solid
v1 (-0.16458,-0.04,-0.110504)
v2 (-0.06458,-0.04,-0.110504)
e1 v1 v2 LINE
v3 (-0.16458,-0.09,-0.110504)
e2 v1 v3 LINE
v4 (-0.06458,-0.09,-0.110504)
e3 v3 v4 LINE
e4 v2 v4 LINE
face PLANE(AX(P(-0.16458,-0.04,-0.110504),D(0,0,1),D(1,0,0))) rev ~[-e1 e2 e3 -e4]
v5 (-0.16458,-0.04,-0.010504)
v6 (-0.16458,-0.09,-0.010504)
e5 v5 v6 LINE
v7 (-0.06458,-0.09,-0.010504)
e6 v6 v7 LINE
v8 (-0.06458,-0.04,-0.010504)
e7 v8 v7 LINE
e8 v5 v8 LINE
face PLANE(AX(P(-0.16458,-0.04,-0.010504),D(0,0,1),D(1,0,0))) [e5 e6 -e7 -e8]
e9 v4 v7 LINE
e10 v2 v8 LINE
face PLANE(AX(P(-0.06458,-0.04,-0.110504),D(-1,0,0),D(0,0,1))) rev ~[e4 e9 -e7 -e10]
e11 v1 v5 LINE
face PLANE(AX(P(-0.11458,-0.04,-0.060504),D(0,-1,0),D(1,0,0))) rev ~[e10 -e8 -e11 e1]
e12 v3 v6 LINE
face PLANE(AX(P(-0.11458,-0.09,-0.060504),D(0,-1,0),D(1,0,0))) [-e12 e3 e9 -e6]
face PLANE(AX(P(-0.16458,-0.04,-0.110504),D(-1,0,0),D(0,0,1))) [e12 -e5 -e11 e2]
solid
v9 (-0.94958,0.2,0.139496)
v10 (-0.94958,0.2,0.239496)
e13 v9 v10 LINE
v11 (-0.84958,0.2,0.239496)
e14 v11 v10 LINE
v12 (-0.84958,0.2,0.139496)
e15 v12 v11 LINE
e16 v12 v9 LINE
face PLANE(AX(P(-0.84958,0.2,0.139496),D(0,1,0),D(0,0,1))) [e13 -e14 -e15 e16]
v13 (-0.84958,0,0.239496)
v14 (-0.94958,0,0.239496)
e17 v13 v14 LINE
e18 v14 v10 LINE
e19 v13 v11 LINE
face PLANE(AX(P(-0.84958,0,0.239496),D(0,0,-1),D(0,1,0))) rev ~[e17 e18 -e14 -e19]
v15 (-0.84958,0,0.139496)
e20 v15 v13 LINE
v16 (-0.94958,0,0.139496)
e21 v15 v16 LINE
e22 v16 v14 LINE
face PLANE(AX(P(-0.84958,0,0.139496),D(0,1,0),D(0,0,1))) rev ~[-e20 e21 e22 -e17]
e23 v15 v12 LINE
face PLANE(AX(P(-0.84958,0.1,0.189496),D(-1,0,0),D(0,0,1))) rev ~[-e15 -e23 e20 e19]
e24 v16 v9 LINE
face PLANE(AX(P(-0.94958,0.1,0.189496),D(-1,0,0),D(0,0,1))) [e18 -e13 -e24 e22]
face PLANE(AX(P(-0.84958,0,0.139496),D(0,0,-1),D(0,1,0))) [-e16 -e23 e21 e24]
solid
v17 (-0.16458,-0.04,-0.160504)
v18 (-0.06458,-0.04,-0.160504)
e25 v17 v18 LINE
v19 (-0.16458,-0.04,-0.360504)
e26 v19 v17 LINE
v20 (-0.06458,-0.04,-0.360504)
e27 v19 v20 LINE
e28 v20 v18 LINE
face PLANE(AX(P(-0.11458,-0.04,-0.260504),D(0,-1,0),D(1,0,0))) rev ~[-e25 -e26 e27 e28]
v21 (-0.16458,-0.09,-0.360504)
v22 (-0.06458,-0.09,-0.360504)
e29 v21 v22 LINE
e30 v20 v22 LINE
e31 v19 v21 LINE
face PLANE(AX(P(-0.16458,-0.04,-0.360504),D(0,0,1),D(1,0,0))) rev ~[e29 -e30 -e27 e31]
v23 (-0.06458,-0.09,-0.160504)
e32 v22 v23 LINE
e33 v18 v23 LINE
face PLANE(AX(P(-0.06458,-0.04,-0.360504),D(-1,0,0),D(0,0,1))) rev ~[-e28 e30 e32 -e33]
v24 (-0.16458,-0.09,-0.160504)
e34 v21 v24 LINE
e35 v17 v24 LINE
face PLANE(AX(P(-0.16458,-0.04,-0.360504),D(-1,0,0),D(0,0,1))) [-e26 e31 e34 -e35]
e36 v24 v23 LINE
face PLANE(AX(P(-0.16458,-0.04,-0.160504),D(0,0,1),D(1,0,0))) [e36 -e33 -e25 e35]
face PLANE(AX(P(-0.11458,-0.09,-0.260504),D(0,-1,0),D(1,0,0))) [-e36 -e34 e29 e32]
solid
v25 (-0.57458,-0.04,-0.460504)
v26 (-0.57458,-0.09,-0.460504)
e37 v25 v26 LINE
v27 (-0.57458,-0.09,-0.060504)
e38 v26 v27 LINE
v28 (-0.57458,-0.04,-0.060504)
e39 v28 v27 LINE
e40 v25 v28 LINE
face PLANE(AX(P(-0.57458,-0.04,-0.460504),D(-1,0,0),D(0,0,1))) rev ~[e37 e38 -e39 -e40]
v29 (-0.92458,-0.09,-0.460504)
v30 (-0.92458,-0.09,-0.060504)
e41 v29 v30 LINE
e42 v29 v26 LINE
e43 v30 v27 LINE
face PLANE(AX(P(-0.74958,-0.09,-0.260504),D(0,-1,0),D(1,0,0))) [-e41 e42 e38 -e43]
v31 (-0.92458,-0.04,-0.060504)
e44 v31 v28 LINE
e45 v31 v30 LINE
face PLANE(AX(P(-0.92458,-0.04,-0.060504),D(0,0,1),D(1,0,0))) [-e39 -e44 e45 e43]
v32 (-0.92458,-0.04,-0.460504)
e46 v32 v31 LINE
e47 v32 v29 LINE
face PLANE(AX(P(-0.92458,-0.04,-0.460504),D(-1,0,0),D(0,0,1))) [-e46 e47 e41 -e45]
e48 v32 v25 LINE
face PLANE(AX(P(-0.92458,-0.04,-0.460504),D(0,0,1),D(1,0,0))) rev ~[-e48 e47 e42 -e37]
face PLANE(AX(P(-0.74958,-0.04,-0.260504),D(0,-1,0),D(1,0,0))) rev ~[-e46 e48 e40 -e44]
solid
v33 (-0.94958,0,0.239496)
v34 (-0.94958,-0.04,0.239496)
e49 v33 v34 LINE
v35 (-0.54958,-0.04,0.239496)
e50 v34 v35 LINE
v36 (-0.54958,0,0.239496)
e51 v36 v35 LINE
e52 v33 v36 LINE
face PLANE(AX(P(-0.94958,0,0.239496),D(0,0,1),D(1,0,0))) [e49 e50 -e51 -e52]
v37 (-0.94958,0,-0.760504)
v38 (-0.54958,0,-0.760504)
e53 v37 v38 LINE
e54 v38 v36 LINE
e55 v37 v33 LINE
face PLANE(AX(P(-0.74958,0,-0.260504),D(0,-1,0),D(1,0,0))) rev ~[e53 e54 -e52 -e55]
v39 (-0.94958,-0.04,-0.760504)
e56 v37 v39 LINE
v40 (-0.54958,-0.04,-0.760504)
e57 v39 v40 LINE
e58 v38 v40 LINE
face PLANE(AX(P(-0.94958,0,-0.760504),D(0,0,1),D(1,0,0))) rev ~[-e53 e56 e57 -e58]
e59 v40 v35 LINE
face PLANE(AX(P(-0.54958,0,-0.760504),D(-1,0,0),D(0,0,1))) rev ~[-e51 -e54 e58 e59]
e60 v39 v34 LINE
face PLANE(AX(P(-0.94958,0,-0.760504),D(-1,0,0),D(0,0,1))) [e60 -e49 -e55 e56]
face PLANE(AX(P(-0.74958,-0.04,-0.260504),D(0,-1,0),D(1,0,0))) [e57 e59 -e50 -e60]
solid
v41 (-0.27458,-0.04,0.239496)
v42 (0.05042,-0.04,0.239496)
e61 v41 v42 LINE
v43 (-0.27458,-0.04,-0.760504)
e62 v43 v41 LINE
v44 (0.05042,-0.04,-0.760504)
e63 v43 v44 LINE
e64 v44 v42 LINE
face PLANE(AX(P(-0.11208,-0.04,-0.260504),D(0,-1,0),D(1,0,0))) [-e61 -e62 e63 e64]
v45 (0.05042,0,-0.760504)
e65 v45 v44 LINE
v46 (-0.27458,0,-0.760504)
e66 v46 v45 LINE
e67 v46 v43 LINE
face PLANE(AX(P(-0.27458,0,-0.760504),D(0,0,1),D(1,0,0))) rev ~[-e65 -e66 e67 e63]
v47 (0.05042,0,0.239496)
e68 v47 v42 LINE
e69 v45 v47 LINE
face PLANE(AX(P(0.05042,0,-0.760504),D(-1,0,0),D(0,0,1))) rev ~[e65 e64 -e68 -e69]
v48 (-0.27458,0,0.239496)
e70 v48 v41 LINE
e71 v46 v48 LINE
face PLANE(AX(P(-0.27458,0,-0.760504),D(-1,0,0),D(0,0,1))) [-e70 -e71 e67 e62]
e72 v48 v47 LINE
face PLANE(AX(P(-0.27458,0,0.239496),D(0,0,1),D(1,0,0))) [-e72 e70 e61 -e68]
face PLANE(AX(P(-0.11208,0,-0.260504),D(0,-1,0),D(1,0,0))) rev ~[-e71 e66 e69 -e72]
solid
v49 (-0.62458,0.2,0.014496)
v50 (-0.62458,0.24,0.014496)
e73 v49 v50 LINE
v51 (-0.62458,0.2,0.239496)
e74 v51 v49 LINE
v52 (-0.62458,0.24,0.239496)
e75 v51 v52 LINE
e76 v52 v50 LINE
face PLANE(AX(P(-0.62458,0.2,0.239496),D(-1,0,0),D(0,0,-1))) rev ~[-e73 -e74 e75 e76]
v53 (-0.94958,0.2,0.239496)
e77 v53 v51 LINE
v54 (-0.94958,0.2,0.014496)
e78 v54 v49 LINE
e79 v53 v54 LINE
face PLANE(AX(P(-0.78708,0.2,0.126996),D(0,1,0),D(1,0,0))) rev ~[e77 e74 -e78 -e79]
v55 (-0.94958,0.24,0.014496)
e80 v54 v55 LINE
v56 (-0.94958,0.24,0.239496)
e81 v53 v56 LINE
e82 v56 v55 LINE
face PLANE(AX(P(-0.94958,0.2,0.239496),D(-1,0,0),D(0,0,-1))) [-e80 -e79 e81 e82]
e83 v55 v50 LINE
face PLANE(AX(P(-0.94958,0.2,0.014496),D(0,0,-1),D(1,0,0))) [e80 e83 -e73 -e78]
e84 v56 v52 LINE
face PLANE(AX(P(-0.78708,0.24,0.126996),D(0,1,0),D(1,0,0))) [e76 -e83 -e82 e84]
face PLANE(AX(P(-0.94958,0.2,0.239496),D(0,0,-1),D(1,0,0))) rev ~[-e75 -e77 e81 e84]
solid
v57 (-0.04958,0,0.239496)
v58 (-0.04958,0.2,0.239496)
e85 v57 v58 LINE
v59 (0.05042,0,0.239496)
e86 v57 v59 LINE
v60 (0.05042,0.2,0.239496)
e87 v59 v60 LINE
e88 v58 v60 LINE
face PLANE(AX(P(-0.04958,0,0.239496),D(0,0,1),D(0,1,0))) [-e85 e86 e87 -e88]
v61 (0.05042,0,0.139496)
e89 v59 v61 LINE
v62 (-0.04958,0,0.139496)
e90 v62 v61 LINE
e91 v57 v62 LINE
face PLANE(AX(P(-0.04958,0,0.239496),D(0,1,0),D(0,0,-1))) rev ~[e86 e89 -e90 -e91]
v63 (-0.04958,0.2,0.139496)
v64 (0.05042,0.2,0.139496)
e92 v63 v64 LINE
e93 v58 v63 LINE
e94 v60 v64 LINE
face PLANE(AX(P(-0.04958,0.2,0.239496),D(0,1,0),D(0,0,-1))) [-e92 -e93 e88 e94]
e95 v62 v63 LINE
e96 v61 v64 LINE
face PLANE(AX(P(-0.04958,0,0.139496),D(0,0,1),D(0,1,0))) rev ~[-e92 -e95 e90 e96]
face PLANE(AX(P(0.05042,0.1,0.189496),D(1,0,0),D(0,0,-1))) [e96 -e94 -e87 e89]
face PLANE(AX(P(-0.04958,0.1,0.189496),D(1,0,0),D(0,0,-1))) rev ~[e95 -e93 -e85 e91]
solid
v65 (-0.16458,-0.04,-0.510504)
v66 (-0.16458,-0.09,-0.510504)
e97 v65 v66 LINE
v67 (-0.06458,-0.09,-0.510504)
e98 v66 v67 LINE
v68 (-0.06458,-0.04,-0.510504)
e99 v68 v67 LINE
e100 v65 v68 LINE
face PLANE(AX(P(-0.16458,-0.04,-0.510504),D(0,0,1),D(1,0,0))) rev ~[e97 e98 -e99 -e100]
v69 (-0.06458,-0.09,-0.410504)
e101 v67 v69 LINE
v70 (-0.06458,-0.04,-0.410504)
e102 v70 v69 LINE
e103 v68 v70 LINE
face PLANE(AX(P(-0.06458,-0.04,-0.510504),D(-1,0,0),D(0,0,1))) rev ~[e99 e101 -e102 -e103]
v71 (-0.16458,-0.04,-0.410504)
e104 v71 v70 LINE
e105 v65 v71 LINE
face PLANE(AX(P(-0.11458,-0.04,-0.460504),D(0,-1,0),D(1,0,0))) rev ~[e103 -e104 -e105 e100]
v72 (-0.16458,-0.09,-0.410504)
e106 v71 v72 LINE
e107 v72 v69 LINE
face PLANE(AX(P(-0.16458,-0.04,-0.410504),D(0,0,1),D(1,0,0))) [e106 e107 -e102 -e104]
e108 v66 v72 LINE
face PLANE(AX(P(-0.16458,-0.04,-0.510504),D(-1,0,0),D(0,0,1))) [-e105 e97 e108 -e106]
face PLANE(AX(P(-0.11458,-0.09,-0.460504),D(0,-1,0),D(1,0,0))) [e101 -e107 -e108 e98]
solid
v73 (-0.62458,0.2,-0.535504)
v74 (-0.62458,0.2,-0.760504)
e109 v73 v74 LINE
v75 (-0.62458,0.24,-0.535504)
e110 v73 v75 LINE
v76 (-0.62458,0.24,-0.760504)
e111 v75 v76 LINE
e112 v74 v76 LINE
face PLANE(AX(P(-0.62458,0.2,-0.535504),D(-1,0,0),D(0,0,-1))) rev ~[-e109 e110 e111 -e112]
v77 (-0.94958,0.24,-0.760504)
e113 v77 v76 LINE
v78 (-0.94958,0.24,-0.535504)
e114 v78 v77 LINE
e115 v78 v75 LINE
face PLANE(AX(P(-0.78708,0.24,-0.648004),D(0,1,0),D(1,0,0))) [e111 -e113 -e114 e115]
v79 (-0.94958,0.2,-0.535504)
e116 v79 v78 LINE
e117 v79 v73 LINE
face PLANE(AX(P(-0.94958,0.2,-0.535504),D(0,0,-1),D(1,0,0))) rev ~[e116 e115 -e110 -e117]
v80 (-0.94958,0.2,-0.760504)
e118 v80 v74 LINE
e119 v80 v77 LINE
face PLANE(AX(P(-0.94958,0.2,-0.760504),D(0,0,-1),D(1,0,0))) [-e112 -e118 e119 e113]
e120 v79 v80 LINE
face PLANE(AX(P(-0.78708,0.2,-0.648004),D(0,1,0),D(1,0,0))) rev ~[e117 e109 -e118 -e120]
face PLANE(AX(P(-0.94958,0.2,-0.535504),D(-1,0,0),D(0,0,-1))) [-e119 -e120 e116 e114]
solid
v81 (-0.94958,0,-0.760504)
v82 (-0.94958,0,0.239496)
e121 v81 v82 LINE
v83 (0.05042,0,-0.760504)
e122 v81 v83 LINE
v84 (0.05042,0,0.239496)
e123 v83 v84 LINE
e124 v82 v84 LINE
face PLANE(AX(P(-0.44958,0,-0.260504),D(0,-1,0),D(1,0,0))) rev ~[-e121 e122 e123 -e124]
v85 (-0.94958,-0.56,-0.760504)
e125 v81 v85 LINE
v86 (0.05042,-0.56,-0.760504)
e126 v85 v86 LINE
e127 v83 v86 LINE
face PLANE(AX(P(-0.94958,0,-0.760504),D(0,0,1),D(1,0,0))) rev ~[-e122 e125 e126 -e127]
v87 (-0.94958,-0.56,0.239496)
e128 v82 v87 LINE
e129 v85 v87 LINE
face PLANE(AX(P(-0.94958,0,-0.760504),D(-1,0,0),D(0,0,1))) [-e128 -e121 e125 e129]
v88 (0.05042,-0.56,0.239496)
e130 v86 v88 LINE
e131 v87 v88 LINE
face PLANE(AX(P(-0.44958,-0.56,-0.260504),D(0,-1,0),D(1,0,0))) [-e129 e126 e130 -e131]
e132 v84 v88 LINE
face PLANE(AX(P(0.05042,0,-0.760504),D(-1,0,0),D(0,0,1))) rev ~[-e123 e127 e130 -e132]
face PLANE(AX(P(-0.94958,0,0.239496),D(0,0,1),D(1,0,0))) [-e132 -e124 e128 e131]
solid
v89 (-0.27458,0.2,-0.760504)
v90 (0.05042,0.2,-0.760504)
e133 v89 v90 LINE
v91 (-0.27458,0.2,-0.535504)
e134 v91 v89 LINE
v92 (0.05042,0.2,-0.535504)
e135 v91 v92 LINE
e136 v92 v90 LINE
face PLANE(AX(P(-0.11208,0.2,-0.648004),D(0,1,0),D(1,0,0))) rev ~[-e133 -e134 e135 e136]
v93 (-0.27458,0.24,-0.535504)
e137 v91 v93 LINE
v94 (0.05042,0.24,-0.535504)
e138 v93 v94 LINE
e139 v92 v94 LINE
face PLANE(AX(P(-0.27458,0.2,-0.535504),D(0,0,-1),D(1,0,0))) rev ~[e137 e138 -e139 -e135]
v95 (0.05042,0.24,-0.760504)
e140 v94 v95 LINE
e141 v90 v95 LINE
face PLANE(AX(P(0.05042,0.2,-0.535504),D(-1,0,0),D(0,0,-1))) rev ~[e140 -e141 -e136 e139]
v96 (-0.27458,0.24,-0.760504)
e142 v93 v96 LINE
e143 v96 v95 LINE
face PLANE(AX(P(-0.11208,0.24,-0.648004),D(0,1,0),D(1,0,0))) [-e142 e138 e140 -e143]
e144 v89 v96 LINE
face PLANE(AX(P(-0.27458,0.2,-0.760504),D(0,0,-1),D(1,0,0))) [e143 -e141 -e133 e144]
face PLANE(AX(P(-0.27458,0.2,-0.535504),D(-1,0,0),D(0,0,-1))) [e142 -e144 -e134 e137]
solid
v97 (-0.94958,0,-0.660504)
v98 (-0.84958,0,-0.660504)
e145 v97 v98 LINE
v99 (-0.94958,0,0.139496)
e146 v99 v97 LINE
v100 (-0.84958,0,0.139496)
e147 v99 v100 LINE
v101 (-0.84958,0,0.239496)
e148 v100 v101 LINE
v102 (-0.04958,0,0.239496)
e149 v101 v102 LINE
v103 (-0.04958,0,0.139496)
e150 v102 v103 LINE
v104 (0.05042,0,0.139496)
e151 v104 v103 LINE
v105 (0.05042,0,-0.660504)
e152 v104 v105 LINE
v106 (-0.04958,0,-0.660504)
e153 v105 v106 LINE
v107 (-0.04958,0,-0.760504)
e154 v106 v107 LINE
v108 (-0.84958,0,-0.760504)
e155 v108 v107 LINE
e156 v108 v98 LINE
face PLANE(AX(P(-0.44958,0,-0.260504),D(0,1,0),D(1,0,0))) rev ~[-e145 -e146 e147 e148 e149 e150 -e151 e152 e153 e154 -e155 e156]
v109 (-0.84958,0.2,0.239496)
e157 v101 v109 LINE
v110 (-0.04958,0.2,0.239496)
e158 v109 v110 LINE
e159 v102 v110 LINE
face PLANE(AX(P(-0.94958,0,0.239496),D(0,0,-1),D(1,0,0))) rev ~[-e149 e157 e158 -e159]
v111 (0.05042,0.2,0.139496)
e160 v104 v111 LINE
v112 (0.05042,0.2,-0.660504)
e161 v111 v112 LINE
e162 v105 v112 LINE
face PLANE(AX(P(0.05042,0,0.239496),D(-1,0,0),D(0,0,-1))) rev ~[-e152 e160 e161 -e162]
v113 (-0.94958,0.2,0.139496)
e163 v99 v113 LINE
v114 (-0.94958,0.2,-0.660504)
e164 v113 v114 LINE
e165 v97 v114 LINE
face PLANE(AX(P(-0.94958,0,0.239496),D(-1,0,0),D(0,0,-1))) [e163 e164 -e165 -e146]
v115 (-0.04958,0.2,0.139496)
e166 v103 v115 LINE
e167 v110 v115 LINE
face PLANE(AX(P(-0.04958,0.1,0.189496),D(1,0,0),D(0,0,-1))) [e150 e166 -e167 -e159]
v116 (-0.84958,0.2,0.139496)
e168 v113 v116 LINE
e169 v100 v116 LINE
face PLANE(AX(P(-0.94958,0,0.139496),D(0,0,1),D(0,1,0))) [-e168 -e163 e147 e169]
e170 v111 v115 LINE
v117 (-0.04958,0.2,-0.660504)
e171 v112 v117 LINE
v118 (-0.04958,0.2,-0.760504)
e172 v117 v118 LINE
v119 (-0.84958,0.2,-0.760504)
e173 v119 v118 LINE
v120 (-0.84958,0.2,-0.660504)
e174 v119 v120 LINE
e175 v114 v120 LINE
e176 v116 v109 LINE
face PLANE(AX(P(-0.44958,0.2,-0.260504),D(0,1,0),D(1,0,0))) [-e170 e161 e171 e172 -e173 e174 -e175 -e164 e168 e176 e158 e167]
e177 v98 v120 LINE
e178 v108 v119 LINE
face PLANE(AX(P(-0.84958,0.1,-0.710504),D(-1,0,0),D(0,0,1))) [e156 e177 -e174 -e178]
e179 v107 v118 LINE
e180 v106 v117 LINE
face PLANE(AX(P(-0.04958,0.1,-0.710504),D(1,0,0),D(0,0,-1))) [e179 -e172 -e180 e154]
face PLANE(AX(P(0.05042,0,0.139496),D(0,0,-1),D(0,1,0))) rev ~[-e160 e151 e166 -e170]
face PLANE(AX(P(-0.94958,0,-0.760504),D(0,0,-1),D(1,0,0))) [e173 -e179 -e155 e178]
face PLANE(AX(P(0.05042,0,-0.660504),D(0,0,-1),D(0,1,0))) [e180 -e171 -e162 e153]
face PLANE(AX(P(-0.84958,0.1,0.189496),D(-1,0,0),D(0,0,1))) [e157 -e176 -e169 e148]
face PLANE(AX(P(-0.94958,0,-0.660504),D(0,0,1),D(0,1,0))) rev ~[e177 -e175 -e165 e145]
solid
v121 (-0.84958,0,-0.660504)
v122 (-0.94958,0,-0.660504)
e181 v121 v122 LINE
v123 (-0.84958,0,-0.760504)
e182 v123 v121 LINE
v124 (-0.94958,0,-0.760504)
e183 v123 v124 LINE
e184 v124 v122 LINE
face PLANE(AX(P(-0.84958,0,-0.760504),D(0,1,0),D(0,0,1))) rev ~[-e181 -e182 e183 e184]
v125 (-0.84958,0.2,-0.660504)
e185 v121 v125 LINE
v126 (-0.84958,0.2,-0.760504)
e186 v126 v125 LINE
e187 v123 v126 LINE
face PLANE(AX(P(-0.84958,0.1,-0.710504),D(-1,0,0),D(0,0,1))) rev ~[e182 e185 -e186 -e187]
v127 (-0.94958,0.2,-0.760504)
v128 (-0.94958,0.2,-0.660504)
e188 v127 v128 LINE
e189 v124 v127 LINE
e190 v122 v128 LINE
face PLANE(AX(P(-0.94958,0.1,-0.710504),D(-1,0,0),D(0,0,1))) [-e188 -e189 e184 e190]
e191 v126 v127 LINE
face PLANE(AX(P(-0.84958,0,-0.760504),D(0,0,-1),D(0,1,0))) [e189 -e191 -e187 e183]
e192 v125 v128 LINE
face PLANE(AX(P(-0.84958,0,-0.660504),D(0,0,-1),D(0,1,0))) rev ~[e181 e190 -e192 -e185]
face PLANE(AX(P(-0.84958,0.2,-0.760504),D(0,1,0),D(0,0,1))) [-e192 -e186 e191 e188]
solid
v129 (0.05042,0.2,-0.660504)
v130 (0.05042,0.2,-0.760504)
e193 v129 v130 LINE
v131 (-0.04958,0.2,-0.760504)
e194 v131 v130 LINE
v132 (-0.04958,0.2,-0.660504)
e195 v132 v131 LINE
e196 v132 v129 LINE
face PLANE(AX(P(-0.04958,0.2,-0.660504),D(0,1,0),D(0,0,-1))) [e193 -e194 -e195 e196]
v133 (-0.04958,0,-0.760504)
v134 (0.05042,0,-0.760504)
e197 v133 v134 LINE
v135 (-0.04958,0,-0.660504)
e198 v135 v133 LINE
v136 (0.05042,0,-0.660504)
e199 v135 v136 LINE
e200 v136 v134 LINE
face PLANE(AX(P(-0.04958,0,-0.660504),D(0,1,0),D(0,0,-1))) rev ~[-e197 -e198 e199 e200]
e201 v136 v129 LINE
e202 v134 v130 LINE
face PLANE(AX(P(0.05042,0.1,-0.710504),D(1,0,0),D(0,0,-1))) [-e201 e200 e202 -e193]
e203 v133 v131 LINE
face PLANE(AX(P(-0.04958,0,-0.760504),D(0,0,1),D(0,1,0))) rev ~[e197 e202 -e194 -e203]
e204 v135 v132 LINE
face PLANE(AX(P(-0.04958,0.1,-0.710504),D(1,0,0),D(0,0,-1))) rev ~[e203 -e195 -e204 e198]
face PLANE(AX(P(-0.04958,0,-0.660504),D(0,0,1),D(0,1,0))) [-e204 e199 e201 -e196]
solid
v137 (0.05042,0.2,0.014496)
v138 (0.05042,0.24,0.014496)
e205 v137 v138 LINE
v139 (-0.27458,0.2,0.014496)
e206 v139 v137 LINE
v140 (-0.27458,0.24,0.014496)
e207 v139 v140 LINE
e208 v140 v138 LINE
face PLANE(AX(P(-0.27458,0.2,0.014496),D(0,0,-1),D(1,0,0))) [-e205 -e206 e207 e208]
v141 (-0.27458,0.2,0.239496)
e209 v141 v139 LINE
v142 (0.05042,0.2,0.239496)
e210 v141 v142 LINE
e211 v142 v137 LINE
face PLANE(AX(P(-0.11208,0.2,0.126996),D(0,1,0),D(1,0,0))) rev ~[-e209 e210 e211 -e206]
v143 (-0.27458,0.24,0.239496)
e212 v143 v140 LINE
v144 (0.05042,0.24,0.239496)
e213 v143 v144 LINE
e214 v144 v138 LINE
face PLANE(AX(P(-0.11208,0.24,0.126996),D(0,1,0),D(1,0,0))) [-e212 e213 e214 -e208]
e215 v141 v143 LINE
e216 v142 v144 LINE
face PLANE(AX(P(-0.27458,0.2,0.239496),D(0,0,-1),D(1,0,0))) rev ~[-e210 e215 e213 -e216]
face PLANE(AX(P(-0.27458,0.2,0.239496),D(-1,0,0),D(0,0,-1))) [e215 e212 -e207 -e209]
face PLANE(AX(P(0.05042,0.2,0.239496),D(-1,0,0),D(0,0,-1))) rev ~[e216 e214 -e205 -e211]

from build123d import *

# Parameters (mm, degrees)
SKETCH_1_W          = 1
SKETCH_1_H          = 1
EXTRUDE_1_DEPTH     = 0.2
SKETCH_3_W          = 0.325
SKETCH_3_H          = 0.225
EXTRUDE_2_DEPTH     = 0.04
EXTRUDE_2_2_DEPTH   = 0.04
EXTRUDE_2_3_DEPTH   = 0.04
EXTRUDE_2_4_DEPTH   = 0.04
SKETCH_4_W          = 0.4
SKETCH_4_H          = 1
EXTRUDE_3_DEPTH     = 0.04
SKETCH_4_W_2        = 0.325
EXTRUDE_3_2_DEPTH   = 0.04
SKETCH_5_W          = 0.35
SKETCH_5_H          = 0.4
EXTRUDE_4_DEPTH     = 0.05
SKETCH_7_W          = 0.1
SKETCH_7_H          = 0.1
EXTRUDE_5_DEPTH     = 0.05
EXTRUDE_5_2_DEPTH   = 0.05
SKETCH_7_H_2        = 0.2
EXTRUDE_5_3_DEPTH   = 0.05
SKETCH_8_W          = 1
SKETCH_8_H          = 1
EXTRUDE_6_DEPTH     = 0.56
SKETCH_12_W         = 0.1
SKETCH_12_H         = 0.2
CUT_EXTRUDE_1_DEPTH = 0.1
SKETCH_11_W         = 0.1
SKETCH_11_H         = 0.2
CUT_EXTRUDE_2_DEPTH = 0.1
SKETCH_16_W         = 0.1
SKETCH_16_H         = 0.2
CUT_EXTRUDE_3_DEPTH = 0.1
SKETCH_18_W         = 0.1
SKETCH_18_H         = 0.2
EXTRUDE_7_DEPTH     = 0.1
SKETCH_19_W         = 0.1
SKETCH_19_H         = 0.2
EXTRUDE_8_DEPTH     = 0.1
SKETCH_20_W         = 0.1
SKETCH_20_H         = 0.2
EXTRUDE_9_DEPTH     = 0.1
SKETCH_21_W         = 0.1
SKETCH_21_H         = 0.2
EXTRUDE_10_DEPTH    = 0.1


with BuildPart() as part:
    # 草图1 → 凸台-拉伸1 (new body)
    with BuildSketch(Plane(origin=(0, 0, 0), x_dir=(1, 0, 0), z_dir=(0, 1, 0))):
        with Locations((-0.449579832, 0.260504202)):
            Rectangle(SKETCH_1_W, SKETCH_1_H)
    extrude(amount=EXTRUDE_1_DEPTH)

    # 草图12 → 切除-拉伸1 (cut)
    with BuildSketch(Plane.ZY.offset(0.949579832)):
        with Locations((0.189495798, 0.1)):
            Rectangle(SKETCH_12_W, SKETCH_12_H)
    extrude(amount=-CUT_EXTRUDE_1_DEPTH, mode=Mode.SUBTRACT)

    # 草图11 → 切除-拉伸2 (cut)
    with BuildSketch(Plane.ZY.offset(0.949579832)):
        with Locations((-0.710504202, 0.1)):
            Rectangle(SKETCH_11_W, SKETCH_11_H)
    extrude(amount=-CUT_EXTRUDE_2_DEPTH, mode=Mode.SUBTRACT)

    # 草图16 → 切除-拉伸3 (cut)
    with BuildSketch(Plane(origin=(0.050420168, 0, 0), x_dir=(0, 0, -1), z_dir=(1, 0, 0))):
        with Locations((-0.189495798, 0.1)):
            Rectangle(SKETCH_16_W, SKETCH_16_H)
        with Locations((0.710504202, 0.1)):
            Rectangle(SKETCH_16_W, SKETCH_16_H)
    extrude(amount=-CUT_EXTRUDE_3_DEPTH, mode=Mode.SUBTRACT)


with BuildPart() as body_2:
    # 草图3 → 凸台-拉伸2 (new body)
    with BuildSketch(Plane(origin=(0, 0.2, 0), x_dir=(1, 0, 0), z_dir=(0, 1, 0))):
        with Locations((-0.787079832, 0.648004202)):
            Rectangle(SKETCH_3_W, SKETCH_3_H)
    extrude(amount=EXTRUDE_2_DEPTH)


with BuildPart() as body_3:
    # 草图3 → Extrude 2 2 (new body)
    with BuildSketch(Plane(origin=(0, 0.2, 0), x_dir=(1, 0, 0), z_dir=(0, 1, 0))):
        with Locations((-0.112079832, 0.648004202)):
            Rectangle(SKETCH_3_W, SKETCH_3_H)
    extrude(amount=EXTRUDE_2_2_DEPTH)


with BuildPart() as body_4:
    # 草图3 → Extrude 2 3 (new body)
    with BuildSketch(Plane(origin=(0, 0.2, 0), x_dir=(1, 0, 0), z_dir=(0, 1, 0))):
        with Locations((-0.787079832, -0.126995798)):
            Rectangle(SKETCH_3_W, SKETCH_3_H)
    extrude(amount=EXTRUDE_2_3_DEPTH)


with BuildPart() as body_5:
    # 草图3 → Extrude 2 4 (new body)
    with BuildSketch(Plane(origin=(0, 0.2, 0), x_dir=(1, 0, 0), z_dir=(0, 1, 0))):
        with Locations((-0.112079832, -0.126995798)):
            Rectangle(SKETCH_3_W, SKETCH_3_H)
    extrude(amount=EXTRUDE_2_4_DEPTH)


with BuildPart() as body_6:
    # 草图4 → 凸台-拉伸3 (new body)
    with BuildSketch(Plane.XZ):
        with Locations((-0.749579832, -0.260504202)):
            Rectangle(SKETCH_4_W, SKETCH_4_H)
    extrude(amount=EXTRUDE_3_DEPTH)


with BuildPart() as body_7:
    # 草图4 → Extrude 3 2 (new body)
    with BuildSketch(Plane.XZ):
        with Locations((-0.112079832, -0.260504202)):
            Rectangle(SKETCH_4_W_2, SKETCH_4_H)
    extrude(amount=EXTRUDE_3_2_DEPTH)


with BuildPart() as body_8:
    # 草图5 → 凸台-拉伸4 (new body)
    with BuildSketch(Plane.XZ.offset(0.04)):
        with Locations((-0.749579832, -0.260504202)):
            Rectangle(SKETCH_5_W, SKETCH_5_H)
    extrude(amount=EXTRUDE_4_DEPTH)


with BuildPart() as body_9:
    # 草图7 → 凸台-拉伸5 (new body)
    with BuildSketch(Plane.XZ.offset(0.04)):
        with Locations((-0.114579832, -0.060504202)):
            Rectangle(SKETCH_7_W, SKETCH_7_H)
    extrude(amount=EXTRUDE_5_DEPTH)


with BuildPart() as body_10:
    # 草图7 → Extrude 5 2 (new body)
    with BuildSketch(Plane.XZ.offset(0.04)):
        with Locations((-0.114579832, -0.460504202)):
            Rectangle(SKETCH_7_W, SKETCH_7_H)
    extrude(amount=EXTRUDE_5_2_DEPTH)


with BuildPart() as body_11:
    # 草图7 → Extrude 5 3 (new body)
    with BuildSketch(Plane.XZ.offset(0.04)):
        with Locations((-0.114579832, -0.260504202)):
            Rectangle(SKETCH_7_W, SKETCH_7_H_2)
    extrude(amount=EXTRUDE_5_3_DEPTH)


with BuildPart() as body_12:
    # 草图8 → 凸台-拉伸6 (new body)
    with BuildSketch(Plane.XZ):
        with Locations((-0.449579832, -0.260504202)):
            Rectangle(SKETCH_8_W, SKETCH_8_H)
    extrude(amount=EXTRUDE_6_DEPTH)


with BuildPart() as body_13:
    # 草图18 → 凸台-拉伸7 (new body)
    with BuildSketch(Plane(origin=(-0.049579832, 0, 0), x_dir=(0, 0, -1), z_dir=(1, 0, 0))):
        with Locations((-0.189495798, 0.1)):
            Rectangle(SKETCH_18_W, SKETCH_18_H)
    extrude(amount=EXTRUDE_7_DEPTH)


with BuildPart() as body_14:
    # 草图19 → 凸台-拉伸8 (new body)
    with BuildSketch(Plane(origin=(-0.049579832, 0, 0), x_dir=(0, 0, -1), z_dir=(1, 0, 0))):
        with Locations((0.710504202, 0.1)):
            Rectangle(SKETCH_19_W, SKETCH_19_H)
    extrude(amount=EXTRUDE_8_DEPTH)


with BuildPart() as body_15:
    # 草图20 → 凸台-拉伸9 (new body)
    with BuildSketch(Plane.ZY.offset(0.849579832)):
        with Locations((0.189495798, 0.1)):
            Rectangle(SKETCH_20_W, SKETCH_20_H)
    extrude(amount=EXTRUDE_9_DEPTH)


with BuildPart() as body_16:
    # 草图21 → 凸台-拉伸10 (new body)
    with BuildSketch(Plane.ZY.offset(0.849579832)):
        with Locations((-0.710504202, 0.1)):
            Rectangle(SKETCH_21_W, SKETCH_21_H)
    extrude(amount=EXTRUDE_10_DEPTH)


solid = Compound([part.part, body_2.part, body_3.part, body_4.part, body_5.part, body_6.part, body_7.part, body_8.part, body_9.part, body_10.part, body_11.part, body_12.part, body_13.part, body_14.part, body_15.part, body_16.part])
